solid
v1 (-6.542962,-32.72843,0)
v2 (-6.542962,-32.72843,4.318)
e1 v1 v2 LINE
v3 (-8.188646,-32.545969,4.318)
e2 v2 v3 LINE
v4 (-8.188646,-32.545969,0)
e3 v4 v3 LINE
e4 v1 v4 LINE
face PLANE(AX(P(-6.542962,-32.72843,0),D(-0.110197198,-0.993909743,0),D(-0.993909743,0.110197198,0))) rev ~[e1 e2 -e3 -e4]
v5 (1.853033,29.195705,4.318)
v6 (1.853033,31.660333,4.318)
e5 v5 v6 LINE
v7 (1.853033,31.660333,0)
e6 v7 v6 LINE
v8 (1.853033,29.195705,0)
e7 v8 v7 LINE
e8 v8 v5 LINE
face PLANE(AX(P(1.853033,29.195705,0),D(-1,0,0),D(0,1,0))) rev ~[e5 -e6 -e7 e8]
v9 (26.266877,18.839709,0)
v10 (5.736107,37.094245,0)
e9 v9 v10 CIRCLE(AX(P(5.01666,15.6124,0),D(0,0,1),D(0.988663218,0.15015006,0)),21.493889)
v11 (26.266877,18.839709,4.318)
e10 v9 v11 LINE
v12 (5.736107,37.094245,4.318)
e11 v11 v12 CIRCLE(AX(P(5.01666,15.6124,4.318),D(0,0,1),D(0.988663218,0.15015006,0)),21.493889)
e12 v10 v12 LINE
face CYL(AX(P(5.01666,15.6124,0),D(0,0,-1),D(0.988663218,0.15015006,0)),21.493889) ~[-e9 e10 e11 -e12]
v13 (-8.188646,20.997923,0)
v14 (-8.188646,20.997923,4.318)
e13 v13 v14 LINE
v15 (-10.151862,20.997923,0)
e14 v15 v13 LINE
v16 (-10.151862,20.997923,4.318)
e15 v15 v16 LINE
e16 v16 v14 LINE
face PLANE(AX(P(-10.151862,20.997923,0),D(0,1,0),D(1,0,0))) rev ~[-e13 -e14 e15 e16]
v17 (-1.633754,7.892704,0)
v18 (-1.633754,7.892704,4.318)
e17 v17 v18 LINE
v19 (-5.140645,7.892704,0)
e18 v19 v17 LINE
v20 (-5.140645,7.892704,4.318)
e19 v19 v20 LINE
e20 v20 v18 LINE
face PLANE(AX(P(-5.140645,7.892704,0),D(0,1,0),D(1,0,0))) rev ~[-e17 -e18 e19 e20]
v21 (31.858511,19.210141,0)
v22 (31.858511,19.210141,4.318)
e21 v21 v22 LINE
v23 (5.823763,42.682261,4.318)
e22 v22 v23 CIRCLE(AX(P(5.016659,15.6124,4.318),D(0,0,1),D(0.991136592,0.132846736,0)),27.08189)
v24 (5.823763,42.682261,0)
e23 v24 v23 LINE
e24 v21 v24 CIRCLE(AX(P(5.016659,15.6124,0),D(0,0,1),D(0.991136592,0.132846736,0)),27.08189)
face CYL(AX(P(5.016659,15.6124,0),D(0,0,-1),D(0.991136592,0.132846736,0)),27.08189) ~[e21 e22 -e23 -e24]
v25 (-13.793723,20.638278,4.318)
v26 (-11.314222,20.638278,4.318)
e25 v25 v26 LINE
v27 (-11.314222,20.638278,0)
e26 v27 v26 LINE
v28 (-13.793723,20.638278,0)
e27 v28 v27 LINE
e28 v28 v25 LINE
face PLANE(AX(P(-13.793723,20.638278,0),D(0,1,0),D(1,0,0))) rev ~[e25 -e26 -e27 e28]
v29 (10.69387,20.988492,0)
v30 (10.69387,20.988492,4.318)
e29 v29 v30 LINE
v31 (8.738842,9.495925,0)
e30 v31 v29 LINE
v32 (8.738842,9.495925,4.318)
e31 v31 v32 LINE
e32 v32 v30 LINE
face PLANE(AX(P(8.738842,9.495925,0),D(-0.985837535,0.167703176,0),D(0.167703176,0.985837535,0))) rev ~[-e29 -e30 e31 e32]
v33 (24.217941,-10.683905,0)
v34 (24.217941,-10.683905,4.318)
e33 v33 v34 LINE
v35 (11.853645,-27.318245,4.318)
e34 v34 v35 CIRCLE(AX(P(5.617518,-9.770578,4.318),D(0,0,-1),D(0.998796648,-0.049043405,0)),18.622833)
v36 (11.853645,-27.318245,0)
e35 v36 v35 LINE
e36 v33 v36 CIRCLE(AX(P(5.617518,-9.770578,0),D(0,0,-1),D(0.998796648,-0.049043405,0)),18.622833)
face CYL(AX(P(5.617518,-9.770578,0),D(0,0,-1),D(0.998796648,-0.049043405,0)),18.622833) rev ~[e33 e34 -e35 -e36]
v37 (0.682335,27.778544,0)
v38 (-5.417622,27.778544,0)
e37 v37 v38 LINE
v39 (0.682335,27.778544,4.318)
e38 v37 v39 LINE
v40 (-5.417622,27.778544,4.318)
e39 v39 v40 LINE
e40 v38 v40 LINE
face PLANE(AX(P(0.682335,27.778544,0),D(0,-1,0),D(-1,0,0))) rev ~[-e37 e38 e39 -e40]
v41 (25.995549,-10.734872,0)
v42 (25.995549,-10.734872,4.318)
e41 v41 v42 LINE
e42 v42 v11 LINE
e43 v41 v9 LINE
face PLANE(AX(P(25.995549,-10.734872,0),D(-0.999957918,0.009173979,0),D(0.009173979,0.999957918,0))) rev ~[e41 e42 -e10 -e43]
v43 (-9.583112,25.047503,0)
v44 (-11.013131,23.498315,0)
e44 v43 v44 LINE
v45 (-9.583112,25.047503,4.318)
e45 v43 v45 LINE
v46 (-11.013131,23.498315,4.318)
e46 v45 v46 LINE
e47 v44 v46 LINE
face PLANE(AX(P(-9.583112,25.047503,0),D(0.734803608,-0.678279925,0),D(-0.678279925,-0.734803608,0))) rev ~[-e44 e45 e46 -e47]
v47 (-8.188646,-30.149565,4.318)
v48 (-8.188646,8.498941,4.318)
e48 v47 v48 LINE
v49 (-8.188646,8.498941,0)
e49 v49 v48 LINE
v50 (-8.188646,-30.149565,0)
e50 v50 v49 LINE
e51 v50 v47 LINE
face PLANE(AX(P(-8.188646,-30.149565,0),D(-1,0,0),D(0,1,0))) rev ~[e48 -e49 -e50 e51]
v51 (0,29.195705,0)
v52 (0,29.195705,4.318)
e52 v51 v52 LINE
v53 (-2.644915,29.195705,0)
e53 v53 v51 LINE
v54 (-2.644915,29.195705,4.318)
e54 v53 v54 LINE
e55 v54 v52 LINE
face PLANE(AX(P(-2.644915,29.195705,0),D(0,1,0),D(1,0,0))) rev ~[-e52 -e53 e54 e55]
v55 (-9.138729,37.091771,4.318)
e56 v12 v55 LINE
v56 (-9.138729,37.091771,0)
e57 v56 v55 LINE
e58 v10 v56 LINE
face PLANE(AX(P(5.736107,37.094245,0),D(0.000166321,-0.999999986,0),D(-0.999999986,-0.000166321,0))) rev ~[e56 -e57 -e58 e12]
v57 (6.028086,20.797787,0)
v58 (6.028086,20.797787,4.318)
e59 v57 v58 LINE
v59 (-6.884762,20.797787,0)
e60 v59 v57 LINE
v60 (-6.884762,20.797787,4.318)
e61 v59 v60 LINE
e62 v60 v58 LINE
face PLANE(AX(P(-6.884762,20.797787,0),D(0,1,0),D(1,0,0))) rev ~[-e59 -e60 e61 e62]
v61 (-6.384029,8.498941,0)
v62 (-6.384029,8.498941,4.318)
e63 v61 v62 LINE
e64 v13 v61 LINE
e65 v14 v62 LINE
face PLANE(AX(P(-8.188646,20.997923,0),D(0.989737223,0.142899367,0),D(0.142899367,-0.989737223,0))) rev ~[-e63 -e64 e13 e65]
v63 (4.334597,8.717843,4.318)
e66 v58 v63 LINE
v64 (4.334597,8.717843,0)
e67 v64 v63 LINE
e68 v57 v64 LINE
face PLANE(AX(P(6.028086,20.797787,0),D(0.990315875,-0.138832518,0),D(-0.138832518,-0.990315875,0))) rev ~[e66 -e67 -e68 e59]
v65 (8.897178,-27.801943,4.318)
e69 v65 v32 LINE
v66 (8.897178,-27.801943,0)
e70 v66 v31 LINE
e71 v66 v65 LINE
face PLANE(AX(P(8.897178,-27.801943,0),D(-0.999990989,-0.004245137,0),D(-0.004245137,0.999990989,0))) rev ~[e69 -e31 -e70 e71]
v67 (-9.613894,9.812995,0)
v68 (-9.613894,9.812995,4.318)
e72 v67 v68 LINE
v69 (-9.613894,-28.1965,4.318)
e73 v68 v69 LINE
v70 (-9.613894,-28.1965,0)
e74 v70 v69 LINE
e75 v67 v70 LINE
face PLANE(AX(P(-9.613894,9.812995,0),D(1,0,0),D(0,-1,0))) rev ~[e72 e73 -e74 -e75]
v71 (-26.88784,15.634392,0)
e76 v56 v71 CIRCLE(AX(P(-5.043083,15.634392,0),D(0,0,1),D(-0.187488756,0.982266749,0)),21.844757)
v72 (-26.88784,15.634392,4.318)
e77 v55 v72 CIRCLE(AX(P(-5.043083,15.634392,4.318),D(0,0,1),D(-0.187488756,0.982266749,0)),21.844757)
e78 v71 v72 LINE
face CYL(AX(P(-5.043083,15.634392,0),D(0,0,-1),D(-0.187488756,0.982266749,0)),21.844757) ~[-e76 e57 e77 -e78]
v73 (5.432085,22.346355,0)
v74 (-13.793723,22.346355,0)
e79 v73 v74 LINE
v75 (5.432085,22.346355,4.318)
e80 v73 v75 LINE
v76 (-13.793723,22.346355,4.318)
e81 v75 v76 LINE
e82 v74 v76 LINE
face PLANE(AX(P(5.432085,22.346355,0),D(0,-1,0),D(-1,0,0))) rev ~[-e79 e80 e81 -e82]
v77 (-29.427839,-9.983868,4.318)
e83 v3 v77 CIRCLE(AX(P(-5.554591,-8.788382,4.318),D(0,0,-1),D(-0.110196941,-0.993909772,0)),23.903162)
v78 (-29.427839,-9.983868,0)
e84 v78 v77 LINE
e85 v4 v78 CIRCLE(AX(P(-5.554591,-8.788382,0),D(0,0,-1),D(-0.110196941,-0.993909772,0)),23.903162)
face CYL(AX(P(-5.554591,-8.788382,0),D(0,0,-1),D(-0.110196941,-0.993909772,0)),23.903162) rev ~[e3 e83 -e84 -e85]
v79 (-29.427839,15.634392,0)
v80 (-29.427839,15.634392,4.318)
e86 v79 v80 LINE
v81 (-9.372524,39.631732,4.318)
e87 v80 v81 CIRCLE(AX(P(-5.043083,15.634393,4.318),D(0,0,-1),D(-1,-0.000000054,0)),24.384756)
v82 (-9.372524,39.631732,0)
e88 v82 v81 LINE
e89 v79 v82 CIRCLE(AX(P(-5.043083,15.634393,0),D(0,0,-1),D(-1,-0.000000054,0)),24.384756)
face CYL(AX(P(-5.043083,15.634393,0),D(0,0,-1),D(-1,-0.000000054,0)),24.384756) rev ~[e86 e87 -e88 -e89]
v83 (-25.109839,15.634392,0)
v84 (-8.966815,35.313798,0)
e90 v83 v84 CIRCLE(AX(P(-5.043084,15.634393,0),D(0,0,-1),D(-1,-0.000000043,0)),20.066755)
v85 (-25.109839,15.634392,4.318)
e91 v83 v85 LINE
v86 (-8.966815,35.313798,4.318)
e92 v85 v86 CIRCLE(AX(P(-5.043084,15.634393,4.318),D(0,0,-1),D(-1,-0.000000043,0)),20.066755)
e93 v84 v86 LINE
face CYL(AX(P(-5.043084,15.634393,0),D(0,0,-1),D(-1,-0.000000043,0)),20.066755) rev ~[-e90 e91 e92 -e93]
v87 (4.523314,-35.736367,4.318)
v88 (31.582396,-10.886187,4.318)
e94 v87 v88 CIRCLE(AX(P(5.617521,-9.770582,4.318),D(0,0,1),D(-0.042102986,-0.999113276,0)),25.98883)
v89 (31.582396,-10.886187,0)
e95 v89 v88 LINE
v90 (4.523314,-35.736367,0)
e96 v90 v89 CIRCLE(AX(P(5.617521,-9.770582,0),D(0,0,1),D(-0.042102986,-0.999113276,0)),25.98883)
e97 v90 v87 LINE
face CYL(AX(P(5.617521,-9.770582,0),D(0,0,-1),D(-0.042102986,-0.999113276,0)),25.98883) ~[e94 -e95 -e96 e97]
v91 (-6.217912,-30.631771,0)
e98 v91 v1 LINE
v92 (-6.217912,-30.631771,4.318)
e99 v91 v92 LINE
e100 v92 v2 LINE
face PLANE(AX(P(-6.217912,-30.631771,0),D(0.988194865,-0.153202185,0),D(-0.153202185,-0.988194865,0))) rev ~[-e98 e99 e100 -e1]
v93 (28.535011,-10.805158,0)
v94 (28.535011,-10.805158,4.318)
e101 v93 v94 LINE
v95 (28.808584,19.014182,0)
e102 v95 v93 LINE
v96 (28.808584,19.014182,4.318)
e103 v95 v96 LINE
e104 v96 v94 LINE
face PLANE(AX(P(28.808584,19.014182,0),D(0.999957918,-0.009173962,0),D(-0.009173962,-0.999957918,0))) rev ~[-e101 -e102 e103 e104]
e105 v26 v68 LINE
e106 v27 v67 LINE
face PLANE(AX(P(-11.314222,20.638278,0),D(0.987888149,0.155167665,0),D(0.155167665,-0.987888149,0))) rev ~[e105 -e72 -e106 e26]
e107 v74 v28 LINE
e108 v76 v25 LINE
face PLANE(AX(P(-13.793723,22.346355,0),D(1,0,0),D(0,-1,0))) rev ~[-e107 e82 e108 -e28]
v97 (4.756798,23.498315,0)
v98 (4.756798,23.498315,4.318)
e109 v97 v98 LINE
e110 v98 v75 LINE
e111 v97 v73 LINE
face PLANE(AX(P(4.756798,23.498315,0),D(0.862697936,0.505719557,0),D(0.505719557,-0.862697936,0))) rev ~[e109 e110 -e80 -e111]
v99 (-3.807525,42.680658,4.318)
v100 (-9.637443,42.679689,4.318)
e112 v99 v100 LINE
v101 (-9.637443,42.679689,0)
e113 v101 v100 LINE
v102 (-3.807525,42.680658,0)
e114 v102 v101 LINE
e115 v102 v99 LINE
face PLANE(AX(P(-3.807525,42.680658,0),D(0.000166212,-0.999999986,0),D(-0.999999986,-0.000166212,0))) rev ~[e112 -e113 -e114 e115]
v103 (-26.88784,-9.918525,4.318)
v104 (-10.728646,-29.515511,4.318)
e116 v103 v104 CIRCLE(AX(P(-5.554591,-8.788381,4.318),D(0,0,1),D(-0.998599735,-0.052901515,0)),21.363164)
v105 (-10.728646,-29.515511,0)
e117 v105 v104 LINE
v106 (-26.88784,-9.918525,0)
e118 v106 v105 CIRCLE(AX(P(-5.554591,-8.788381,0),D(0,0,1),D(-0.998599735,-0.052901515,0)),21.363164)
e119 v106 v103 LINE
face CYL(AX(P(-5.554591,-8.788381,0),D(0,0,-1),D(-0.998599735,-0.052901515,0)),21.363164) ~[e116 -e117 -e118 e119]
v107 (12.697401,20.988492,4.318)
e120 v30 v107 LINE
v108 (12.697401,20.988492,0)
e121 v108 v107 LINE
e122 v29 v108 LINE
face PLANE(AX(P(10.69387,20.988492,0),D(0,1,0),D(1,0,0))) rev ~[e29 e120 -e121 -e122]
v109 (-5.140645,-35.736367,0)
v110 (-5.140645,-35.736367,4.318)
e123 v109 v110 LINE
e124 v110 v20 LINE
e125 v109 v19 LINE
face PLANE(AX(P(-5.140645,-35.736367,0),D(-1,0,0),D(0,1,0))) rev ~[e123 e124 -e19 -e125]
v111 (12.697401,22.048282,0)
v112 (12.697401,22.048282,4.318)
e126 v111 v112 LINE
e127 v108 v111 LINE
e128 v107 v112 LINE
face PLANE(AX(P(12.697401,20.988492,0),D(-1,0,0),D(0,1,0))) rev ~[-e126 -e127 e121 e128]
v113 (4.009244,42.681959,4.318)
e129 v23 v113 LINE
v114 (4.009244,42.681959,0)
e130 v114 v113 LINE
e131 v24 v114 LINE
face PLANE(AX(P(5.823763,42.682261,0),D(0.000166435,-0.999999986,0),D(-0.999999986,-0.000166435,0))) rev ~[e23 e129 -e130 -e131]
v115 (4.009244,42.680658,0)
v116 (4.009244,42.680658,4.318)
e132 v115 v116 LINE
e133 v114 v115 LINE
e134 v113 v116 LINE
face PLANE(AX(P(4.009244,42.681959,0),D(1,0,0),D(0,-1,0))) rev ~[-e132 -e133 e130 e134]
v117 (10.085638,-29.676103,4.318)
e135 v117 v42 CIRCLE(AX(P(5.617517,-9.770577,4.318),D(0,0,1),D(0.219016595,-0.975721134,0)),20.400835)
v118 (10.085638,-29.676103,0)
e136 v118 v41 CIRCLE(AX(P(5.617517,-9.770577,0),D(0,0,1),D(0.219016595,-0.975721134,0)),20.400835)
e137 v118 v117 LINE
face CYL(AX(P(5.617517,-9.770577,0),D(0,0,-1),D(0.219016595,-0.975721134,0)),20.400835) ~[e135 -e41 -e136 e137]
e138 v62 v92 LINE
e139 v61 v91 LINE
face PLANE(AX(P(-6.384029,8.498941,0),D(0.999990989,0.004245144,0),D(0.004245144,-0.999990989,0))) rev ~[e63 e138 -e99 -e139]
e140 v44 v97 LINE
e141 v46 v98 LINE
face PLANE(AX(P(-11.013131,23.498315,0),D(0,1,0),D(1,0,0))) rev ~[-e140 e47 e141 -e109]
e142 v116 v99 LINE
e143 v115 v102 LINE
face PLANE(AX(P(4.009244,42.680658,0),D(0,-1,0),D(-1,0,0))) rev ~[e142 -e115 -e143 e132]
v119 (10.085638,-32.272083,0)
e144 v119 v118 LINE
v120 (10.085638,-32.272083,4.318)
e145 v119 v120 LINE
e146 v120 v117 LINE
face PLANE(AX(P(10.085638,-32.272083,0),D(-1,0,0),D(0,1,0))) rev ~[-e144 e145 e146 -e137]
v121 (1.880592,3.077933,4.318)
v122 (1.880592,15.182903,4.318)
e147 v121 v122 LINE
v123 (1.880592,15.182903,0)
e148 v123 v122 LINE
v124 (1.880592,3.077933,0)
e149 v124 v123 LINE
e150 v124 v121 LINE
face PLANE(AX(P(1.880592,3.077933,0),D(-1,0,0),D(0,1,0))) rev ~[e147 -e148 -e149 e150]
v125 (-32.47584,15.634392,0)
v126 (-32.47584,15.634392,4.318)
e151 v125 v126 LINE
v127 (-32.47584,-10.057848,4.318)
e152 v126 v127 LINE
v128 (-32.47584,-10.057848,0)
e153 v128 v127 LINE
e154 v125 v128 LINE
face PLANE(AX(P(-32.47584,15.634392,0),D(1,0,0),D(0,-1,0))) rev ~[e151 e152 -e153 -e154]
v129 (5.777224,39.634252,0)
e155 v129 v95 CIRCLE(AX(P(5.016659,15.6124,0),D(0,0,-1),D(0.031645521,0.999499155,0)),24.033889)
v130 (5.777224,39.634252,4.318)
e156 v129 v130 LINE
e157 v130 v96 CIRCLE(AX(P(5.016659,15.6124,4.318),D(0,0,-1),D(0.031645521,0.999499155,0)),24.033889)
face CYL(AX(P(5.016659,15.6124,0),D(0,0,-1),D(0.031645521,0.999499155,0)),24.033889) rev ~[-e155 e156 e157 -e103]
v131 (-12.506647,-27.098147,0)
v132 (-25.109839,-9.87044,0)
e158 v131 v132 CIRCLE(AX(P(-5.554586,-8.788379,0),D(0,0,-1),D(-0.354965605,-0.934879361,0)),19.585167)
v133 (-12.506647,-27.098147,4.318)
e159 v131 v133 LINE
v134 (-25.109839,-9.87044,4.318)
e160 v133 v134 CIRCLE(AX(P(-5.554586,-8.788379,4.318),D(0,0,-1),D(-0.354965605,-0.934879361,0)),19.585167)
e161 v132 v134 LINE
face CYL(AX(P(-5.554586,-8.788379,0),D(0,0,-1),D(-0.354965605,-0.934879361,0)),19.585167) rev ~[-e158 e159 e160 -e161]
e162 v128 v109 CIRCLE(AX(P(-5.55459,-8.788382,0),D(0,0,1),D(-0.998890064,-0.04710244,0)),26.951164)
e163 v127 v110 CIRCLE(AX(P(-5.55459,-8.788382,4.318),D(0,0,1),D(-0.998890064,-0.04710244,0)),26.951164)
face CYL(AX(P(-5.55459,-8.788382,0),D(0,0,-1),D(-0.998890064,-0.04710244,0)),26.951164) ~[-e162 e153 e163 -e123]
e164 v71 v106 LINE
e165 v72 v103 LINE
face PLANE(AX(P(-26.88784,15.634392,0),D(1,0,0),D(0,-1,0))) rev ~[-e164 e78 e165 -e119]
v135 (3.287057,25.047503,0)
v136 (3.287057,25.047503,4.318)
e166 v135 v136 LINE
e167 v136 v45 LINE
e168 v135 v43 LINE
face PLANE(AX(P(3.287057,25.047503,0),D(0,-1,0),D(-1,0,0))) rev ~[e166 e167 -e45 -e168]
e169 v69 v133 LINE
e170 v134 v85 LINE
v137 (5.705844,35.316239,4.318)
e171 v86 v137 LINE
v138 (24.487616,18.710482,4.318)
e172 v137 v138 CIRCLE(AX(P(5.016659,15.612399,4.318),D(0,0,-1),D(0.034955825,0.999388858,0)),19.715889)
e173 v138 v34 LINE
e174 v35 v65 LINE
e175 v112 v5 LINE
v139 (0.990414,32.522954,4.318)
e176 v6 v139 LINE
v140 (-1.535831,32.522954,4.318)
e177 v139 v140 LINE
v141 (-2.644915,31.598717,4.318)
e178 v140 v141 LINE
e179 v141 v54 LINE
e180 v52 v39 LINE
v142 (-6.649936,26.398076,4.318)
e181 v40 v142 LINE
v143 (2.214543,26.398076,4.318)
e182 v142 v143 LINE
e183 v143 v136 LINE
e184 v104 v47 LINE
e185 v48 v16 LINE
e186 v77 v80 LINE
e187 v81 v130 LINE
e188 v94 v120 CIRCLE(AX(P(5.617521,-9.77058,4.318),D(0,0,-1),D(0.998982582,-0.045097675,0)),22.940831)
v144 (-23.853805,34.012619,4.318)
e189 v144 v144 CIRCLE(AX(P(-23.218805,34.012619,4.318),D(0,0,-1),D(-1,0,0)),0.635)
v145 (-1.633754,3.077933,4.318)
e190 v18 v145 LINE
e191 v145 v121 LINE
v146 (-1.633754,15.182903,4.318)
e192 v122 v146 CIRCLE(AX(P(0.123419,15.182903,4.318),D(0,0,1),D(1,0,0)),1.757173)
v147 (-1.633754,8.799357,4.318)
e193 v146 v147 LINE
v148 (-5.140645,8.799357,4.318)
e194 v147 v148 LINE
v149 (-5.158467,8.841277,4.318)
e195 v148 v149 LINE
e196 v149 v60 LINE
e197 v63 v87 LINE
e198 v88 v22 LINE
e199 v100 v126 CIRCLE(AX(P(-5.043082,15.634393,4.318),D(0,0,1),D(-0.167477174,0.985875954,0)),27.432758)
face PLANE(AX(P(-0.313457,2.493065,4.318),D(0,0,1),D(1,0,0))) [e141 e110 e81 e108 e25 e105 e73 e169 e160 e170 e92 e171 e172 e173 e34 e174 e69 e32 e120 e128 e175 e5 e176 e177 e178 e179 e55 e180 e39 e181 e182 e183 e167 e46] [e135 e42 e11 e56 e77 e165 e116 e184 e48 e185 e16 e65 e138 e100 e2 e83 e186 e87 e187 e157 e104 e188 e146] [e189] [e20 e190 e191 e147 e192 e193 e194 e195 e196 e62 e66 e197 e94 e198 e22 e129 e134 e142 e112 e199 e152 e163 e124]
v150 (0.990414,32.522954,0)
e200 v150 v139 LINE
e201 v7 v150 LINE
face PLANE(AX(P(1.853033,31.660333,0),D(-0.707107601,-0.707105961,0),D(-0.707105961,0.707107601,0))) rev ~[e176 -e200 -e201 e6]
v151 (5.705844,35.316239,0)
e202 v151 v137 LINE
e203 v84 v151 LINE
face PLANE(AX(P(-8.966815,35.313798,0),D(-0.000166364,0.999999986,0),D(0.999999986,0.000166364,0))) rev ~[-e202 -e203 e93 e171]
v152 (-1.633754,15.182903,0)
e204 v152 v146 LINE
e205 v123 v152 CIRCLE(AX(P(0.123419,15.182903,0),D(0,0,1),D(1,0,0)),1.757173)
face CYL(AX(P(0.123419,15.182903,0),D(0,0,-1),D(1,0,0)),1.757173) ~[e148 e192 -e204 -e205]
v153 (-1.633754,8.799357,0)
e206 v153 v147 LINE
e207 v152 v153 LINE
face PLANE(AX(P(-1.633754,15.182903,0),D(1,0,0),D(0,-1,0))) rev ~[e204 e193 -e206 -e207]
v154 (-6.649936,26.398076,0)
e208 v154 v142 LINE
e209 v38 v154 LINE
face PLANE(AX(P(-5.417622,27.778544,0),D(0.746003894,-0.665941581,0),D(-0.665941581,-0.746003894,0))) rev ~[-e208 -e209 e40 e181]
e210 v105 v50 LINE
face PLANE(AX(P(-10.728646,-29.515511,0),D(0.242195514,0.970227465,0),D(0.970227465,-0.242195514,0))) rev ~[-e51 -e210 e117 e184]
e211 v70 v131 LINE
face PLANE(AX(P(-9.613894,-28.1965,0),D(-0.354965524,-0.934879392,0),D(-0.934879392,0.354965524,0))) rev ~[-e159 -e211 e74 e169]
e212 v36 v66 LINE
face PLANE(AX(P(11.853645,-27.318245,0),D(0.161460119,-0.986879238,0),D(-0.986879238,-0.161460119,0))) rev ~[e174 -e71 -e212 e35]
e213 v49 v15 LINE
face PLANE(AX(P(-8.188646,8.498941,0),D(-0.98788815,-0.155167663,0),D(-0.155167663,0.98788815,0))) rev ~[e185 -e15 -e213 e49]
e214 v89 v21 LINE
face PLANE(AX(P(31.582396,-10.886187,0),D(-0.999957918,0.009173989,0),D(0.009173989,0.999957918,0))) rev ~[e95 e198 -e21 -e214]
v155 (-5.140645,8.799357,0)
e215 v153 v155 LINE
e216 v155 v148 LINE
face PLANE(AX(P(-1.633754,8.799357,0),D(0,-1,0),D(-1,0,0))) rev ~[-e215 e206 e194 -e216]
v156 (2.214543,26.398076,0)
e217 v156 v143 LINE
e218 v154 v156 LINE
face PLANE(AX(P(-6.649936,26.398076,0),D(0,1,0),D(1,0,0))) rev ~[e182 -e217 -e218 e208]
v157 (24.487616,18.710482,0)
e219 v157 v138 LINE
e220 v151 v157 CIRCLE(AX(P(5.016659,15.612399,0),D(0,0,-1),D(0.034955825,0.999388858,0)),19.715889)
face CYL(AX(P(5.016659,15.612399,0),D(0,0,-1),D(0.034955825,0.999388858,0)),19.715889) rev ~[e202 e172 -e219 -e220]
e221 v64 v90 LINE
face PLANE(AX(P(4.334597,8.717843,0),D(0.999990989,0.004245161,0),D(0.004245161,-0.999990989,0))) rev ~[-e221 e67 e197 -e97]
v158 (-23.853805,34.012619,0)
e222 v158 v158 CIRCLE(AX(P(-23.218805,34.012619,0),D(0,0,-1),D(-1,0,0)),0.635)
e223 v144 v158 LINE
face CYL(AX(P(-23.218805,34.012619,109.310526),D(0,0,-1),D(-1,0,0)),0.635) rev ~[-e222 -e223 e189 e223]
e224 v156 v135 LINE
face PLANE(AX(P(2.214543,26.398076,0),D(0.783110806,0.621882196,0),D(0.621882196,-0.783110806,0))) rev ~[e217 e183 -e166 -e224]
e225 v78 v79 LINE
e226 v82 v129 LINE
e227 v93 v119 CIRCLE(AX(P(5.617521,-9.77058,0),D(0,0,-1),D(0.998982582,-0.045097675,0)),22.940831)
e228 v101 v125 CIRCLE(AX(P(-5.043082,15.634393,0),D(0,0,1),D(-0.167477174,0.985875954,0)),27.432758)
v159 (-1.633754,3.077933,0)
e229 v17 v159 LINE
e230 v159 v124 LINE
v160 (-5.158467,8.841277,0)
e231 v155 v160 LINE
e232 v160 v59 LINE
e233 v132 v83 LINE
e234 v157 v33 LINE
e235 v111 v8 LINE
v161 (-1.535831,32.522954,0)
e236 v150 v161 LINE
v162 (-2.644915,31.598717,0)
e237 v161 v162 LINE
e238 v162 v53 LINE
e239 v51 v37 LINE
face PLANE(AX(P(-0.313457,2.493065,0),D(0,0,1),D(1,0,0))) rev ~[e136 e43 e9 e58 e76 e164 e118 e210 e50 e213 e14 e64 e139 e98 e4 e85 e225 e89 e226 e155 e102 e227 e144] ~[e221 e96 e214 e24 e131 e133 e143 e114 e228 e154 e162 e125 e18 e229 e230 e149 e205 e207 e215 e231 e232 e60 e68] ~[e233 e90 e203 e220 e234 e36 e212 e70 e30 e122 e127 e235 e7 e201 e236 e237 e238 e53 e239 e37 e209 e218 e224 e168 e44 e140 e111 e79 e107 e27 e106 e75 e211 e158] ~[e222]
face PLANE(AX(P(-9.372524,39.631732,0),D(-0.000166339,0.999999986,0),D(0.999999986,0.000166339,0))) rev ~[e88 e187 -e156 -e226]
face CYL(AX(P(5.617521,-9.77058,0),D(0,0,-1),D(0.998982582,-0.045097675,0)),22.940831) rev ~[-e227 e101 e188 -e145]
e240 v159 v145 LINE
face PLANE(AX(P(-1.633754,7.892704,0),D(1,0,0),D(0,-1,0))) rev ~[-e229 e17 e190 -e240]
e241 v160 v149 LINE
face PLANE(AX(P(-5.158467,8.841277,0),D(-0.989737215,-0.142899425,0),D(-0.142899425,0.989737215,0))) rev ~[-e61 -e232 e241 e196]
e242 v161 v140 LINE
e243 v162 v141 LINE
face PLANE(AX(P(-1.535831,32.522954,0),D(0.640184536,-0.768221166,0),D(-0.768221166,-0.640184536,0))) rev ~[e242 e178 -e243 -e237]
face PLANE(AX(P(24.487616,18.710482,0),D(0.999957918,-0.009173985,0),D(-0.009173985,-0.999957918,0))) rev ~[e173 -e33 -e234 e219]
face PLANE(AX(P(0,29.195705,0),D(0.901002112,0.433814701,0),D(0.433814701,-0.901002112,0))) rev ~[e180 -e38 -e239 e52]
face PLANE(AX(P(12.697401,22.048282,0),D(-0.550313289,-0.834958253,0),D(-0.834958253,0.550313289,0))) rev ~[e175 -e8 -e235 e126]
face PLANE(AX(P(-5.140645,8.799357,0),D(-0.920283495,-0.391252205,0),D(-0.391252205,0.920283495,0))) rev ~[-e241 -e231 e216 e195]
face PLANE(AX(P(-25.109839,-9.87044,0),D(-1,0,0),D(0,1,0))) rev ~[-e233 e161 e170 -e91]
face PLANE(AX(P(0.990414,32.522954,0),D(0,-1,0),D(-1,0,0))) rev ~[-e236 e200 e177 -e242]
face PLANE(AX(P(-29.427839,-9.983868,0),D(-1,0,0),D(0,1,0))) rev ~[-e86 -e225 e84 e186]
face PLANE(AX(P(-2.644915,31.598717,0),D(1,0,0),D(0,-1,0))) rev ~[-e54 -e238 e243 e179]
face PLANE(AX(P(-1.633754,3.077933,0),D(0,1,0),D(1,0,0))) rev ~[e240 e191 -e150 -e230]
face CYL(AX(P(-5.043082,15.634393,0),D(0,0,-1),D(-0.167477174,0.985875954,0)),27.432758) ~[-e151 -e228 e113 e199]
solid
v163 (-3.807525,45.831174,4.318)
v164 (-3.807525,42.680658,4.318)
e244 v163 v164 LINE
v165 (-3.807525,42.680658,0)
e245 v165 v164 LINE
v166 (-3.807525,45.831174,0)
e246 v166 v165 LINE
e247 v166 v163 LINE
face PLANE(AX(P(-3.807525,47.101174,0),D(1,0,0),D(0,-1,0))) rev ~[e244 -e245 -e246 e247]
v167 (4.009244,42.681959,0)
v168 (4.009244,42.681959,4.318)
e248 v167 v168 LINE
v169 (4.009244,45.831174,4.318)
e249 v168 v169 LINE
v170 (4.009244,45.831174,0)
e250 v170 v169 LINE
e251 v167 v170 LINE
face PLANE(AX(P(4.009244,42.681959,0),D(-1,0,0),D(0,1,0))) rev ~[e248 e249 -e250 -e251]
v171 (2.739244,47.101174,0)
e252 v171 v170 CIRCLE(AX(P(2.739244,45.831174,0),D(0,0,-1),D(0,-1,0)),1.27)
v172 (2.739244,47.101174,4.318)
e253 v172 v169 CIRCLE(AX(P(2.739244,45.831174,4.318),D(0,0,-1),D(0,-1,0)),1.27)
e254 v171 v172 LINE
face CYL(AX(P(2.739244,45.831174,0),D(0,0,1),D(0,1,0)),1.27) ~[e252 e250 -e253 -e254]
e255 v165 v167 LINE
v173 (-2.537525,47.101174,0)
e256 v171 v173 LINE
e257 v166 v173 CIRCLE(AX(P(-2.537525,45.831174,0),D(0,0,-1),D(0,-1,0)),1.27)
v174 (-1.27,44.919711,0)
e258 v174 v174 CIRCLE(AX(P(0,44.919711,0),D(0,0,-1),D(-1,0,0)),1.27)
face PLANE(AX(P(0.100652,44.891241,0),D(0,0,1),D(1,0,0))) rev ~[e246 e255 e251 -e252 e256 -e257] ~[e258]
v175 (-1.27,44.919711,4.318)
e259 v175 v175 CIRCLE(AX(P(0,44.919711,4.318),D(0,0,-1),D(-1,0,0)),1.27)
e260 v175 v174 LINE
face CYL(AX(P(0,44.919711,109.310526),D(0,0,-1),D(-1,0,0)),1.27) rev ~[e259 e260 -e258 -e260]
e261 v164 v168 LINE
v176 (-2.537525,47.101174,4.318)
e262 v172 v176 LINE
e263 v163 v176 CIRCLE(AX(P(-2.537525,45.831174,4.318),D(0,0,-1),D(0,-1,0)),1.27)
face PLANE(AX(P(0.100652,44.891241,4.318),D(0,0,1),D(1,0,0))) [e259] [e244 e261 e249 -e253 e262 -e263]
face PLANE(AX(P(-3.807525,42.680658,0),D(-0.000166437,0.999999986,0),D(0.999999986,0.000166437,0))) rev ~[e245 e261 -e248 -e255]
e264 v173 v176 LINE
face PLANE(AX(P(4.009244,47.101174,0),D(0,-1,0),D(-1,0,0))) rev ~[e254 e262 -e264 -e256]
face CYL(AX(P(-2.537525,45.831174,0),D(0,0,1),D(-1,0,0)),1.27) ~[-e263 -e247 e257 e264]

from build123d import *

# Parameters (mm, degrees)
F1_DEPTH = 4.318
F3_D     = 1.27
F4_R     = 1.27
F6_D     = 2.54


with BuildPart() as f1:
    # F0 (on Top) → F1 (new body)
    with BuildSketch(Plane.XY):
        with BuildLine():
            Line((-3.807525, 42.680658), (-9.637443, 42.679689))
            ThreePointArc((-9.637443, 42.679689), (-26.002474, 33.333548), (-32.47584, 15.634392))
            Line((-32.47584, 15.634392), (-32.47584, -10.057848))
            ThreePointArc((-32.47584, -10.057848), (-24.007392, -28.431685), (-5.140645, -35.736367))
            Line((-5.140645, -35.736367), (-5.140645, 7.892704))
            Line((-5.140645, 7.892704), (-1.633754, 7.892704))
            Line((-1.633754, 7.892704), (-1.633754, 3.077933))
            Line((-1.633754, 3.077933), (1.880592, 3.077933))
            Line((1.880592, 3.077933), (1.880592, 15.182903))
            ThreePointArc((1.880592, 15.182903), (0.123419, 16.940076), (-1.633754, 15.182903))
            Line((-1.633754, 15.182903), (-1.633754, 8.799357))
            Line((-1.633754, 8.799357), (-5.140645, 8.799357))
            Line((-5.140645, 8.799357), (-5.158467, 8.841277))
            Line((-5.158467, 8.841277), (-6.884762, 20.797787))
            Line((-6.884762, 20.797787), (6.028086, 20.797787))
            Line((6.028086, 20.797787), (4.334597, 8.717843))
            Line((4.334597, 8.717843), (4.523314, -35.736367))
            ThreePointArc((4.523314, -35.736367), (23.196497, -28.912131), (31.582396, -10.886187))
            Line((31.582396, -10.886187), (31.858511, 19.210141))
            ThreePointArc((31.858511, 19.210141), (23.150917, 35.726511), (5.823763, 42.682261))
            Line((5.823763, 42.682261), (4.009244, 42.681959))
            Line((4.009244, 42.681959), (4.009244, 42.680658))
            Line((4.009244, 42.680658), (-3.807525, 42.680658))
        make_face()
        with BuildLine():
            ThreePointArc((-29.427839, 15.634392), (-23.753892, 31.271591), (-9.372524, 39.631732))
            Line((-9.372524, 39.631732), (5.777224, 39.634252))
            ThreePointArc((5.777224, 39.634252), (21.047973, 33.518399), (28.808584, 19.014182))
            Line((28.808584, 19.014182), (28.535011, -10.805158))
            ThreePointArc((28.535011, -10.805158), (23.015799, -24.723226), (10.085638, -32.272083))
            Line((10.085638, -32.272083), (10.085638, -29.676103))
            ThreePointArc((10.085638, -29.676103), (21.238829, -22.891883), (25.995549, -10.734872))
            Line((25.995549, -10.734872), (26.266877, 18.839709))
            ThreePointArc((26.266877, 18.839709), (19.298591, 31.675205), (5.736107, 37.094245))
            Line((5.736107, 37.094245), (-9.138729, 37.091771))
            ThreePointArc((-9.138729, 37.091771), (-21.875519, 29.557844), (-26.88784, 15.634392))
            Line((-26.88784, 15.634392), (-26.88784, -9.918525))
            ThreePointArc((-26.88784, -9.918525), (-22.036998, -22.379371), (-10.728646, -29.515511))
            Line((-10.728646, -29.515511), (-8.188646, -30.149565))
            Line((-8.188646, -30.149565), (-8.188646, 8.498941))
            Line((-8.188646, 8.498941), (-10.151862, 20.997923))
            Line((-10.151862, 20.997923), (-8.188646, 20.997923))
            Line((-8.188646, 20.997923), (-6.384029, 8.498941))
            Line((-6.384029, 8.498941), (-6.217912, -30.631771))
            Line((-6.217912, -30.631771), (-6.542962, -32.72843))
            Line((-6.542962, -32.72843), (-8.188646, -32.545969))
            ThreePointArc((-8.188646, -32.545969), (-22.959228, -25.172514), (-29.427839, -9.983868))
            Line((-29.427839, -9.983868), (-29.427839, 15.634392))
        make_face(mode=Mode.SUBTRACT)
        with BuildLine():
            ThreePointArc((-25.109839, 15.634392), (-20.557774, 28.361099), (-8.966815, 35.313798))
            Line((-8.966815, 35.313798), (5.705844, 35.316239))
            ThreePointArc((5.705844, 35.316239), (18.075971, 30.383), (24.487616, 18.710482))
            Line((24.487616, 18.710482), (24.217941, -10.683905))
            ThreePointArc((24.217941, -10.683905), (20.563717, -20.88008), (11.853645, -27.318245))
            Line((11.853645, -27.318245), (8.897178, -27.801943))
            Line((8.897178, -27.801943), (8.738842, 9.495925))
            Line((8.738842, 9.495925), (10.69387, 20.988492))
            Line((10.69387, 20.988492), (12.697401, 20.988492))
            Line((12.697401, 20.988492), (12.697401, 22.048282))
            Line((12.697401, 22.048282), (1.853033, 29.195705))
            Line((1.853033, 29.195705), (1.853033, 31.660333))
            Line((1.853033, 31.660333), (0.990414, 32.522954))
            Line((0.990414, 32.522954), (-1.535831, 32.522954))
            Line((-1.535831, 32.522954), (-2.644915, 31.598717))
            Line((-2.644915, 31.598717), (-2.644915, 29.195705))
            Line((-2.644915, 29.195705), (0, 29.195705))
            Line((0, 29.195705), (0.682335, 27.778544))
            Line((0.682335, 27.778544), (-5.417622, 27.778544))
            Line((-5.417622, 27.778544), (-6.649936, 26.398076))
            Line((-6.649936, 26.398076), (2.214543, 26.398076))
            Line((2.214543, 26.398076), (3.287057, 25.047503))
            Line((3.287057, 25.047503), (-9.583112, 25.047503))
            Line((-9.583112, 25.047503), (-11.013131, 23.498315))
            Line((-11.013131, 23.498315), (-10.354273, 23.498315))
            Line((-10.354273, 23.498315), (4.756798, 23.498315))
            Line((4.756798, 23.498315), (5.432085, 22.346355))
            Line((5.432085, 22.346355), (-13.793723, 22.346355))
            Line((-13.793723, 22.346355), (-13.793723, 20.638278))
            Line((-13.793723, 20.638278), (-11.314222, 20.638278))
            Line((-11.314222, 20.638278), (-9.613894, 9.812995))
            Line((-9.613894, 9.812995), (-9.613894, -28.1965))
            Line((-9.613894, -28.1965), (-12.506647, -27.098147))
            ThreePointArc((-12.506647, -27.098147), (-21.36148, -20.352153), (-25.109839, -9.87044))
            Line((-25.109839, -9.87044), (-25.109839, 15.634392))
        make_face(mode=Mode.SUBTRACT)
        Polygon((-3.807525, 47.101174), (-3.807525, 42.680658), (4.009244, 42.681959), (4.009244, 47.101174), align=None)
    extrude(amount=F1_DEPTH)

    # F3 (through all)
    with Locations(Plane.XY.offset(4.318)):
        with Locations((-23.218805, 34.012619)):
            Hole(F3_D / 2)

    # F4
    f4_edges = [f1.edges().sort_by_distance(p)[0] for p in [
        (-3.807525, 47.101174, 2.159),
        (4.009244, 47.101174, 2.159),
    ]]
    fillet(f4_edges, radius=F4_R)

    # F6 (through all)
    with Locations(Plane.XY.offset(4.318)):
        with Locations((0, 44.919711)):
            Hole(F6_D / 2)


solid = f1.part
